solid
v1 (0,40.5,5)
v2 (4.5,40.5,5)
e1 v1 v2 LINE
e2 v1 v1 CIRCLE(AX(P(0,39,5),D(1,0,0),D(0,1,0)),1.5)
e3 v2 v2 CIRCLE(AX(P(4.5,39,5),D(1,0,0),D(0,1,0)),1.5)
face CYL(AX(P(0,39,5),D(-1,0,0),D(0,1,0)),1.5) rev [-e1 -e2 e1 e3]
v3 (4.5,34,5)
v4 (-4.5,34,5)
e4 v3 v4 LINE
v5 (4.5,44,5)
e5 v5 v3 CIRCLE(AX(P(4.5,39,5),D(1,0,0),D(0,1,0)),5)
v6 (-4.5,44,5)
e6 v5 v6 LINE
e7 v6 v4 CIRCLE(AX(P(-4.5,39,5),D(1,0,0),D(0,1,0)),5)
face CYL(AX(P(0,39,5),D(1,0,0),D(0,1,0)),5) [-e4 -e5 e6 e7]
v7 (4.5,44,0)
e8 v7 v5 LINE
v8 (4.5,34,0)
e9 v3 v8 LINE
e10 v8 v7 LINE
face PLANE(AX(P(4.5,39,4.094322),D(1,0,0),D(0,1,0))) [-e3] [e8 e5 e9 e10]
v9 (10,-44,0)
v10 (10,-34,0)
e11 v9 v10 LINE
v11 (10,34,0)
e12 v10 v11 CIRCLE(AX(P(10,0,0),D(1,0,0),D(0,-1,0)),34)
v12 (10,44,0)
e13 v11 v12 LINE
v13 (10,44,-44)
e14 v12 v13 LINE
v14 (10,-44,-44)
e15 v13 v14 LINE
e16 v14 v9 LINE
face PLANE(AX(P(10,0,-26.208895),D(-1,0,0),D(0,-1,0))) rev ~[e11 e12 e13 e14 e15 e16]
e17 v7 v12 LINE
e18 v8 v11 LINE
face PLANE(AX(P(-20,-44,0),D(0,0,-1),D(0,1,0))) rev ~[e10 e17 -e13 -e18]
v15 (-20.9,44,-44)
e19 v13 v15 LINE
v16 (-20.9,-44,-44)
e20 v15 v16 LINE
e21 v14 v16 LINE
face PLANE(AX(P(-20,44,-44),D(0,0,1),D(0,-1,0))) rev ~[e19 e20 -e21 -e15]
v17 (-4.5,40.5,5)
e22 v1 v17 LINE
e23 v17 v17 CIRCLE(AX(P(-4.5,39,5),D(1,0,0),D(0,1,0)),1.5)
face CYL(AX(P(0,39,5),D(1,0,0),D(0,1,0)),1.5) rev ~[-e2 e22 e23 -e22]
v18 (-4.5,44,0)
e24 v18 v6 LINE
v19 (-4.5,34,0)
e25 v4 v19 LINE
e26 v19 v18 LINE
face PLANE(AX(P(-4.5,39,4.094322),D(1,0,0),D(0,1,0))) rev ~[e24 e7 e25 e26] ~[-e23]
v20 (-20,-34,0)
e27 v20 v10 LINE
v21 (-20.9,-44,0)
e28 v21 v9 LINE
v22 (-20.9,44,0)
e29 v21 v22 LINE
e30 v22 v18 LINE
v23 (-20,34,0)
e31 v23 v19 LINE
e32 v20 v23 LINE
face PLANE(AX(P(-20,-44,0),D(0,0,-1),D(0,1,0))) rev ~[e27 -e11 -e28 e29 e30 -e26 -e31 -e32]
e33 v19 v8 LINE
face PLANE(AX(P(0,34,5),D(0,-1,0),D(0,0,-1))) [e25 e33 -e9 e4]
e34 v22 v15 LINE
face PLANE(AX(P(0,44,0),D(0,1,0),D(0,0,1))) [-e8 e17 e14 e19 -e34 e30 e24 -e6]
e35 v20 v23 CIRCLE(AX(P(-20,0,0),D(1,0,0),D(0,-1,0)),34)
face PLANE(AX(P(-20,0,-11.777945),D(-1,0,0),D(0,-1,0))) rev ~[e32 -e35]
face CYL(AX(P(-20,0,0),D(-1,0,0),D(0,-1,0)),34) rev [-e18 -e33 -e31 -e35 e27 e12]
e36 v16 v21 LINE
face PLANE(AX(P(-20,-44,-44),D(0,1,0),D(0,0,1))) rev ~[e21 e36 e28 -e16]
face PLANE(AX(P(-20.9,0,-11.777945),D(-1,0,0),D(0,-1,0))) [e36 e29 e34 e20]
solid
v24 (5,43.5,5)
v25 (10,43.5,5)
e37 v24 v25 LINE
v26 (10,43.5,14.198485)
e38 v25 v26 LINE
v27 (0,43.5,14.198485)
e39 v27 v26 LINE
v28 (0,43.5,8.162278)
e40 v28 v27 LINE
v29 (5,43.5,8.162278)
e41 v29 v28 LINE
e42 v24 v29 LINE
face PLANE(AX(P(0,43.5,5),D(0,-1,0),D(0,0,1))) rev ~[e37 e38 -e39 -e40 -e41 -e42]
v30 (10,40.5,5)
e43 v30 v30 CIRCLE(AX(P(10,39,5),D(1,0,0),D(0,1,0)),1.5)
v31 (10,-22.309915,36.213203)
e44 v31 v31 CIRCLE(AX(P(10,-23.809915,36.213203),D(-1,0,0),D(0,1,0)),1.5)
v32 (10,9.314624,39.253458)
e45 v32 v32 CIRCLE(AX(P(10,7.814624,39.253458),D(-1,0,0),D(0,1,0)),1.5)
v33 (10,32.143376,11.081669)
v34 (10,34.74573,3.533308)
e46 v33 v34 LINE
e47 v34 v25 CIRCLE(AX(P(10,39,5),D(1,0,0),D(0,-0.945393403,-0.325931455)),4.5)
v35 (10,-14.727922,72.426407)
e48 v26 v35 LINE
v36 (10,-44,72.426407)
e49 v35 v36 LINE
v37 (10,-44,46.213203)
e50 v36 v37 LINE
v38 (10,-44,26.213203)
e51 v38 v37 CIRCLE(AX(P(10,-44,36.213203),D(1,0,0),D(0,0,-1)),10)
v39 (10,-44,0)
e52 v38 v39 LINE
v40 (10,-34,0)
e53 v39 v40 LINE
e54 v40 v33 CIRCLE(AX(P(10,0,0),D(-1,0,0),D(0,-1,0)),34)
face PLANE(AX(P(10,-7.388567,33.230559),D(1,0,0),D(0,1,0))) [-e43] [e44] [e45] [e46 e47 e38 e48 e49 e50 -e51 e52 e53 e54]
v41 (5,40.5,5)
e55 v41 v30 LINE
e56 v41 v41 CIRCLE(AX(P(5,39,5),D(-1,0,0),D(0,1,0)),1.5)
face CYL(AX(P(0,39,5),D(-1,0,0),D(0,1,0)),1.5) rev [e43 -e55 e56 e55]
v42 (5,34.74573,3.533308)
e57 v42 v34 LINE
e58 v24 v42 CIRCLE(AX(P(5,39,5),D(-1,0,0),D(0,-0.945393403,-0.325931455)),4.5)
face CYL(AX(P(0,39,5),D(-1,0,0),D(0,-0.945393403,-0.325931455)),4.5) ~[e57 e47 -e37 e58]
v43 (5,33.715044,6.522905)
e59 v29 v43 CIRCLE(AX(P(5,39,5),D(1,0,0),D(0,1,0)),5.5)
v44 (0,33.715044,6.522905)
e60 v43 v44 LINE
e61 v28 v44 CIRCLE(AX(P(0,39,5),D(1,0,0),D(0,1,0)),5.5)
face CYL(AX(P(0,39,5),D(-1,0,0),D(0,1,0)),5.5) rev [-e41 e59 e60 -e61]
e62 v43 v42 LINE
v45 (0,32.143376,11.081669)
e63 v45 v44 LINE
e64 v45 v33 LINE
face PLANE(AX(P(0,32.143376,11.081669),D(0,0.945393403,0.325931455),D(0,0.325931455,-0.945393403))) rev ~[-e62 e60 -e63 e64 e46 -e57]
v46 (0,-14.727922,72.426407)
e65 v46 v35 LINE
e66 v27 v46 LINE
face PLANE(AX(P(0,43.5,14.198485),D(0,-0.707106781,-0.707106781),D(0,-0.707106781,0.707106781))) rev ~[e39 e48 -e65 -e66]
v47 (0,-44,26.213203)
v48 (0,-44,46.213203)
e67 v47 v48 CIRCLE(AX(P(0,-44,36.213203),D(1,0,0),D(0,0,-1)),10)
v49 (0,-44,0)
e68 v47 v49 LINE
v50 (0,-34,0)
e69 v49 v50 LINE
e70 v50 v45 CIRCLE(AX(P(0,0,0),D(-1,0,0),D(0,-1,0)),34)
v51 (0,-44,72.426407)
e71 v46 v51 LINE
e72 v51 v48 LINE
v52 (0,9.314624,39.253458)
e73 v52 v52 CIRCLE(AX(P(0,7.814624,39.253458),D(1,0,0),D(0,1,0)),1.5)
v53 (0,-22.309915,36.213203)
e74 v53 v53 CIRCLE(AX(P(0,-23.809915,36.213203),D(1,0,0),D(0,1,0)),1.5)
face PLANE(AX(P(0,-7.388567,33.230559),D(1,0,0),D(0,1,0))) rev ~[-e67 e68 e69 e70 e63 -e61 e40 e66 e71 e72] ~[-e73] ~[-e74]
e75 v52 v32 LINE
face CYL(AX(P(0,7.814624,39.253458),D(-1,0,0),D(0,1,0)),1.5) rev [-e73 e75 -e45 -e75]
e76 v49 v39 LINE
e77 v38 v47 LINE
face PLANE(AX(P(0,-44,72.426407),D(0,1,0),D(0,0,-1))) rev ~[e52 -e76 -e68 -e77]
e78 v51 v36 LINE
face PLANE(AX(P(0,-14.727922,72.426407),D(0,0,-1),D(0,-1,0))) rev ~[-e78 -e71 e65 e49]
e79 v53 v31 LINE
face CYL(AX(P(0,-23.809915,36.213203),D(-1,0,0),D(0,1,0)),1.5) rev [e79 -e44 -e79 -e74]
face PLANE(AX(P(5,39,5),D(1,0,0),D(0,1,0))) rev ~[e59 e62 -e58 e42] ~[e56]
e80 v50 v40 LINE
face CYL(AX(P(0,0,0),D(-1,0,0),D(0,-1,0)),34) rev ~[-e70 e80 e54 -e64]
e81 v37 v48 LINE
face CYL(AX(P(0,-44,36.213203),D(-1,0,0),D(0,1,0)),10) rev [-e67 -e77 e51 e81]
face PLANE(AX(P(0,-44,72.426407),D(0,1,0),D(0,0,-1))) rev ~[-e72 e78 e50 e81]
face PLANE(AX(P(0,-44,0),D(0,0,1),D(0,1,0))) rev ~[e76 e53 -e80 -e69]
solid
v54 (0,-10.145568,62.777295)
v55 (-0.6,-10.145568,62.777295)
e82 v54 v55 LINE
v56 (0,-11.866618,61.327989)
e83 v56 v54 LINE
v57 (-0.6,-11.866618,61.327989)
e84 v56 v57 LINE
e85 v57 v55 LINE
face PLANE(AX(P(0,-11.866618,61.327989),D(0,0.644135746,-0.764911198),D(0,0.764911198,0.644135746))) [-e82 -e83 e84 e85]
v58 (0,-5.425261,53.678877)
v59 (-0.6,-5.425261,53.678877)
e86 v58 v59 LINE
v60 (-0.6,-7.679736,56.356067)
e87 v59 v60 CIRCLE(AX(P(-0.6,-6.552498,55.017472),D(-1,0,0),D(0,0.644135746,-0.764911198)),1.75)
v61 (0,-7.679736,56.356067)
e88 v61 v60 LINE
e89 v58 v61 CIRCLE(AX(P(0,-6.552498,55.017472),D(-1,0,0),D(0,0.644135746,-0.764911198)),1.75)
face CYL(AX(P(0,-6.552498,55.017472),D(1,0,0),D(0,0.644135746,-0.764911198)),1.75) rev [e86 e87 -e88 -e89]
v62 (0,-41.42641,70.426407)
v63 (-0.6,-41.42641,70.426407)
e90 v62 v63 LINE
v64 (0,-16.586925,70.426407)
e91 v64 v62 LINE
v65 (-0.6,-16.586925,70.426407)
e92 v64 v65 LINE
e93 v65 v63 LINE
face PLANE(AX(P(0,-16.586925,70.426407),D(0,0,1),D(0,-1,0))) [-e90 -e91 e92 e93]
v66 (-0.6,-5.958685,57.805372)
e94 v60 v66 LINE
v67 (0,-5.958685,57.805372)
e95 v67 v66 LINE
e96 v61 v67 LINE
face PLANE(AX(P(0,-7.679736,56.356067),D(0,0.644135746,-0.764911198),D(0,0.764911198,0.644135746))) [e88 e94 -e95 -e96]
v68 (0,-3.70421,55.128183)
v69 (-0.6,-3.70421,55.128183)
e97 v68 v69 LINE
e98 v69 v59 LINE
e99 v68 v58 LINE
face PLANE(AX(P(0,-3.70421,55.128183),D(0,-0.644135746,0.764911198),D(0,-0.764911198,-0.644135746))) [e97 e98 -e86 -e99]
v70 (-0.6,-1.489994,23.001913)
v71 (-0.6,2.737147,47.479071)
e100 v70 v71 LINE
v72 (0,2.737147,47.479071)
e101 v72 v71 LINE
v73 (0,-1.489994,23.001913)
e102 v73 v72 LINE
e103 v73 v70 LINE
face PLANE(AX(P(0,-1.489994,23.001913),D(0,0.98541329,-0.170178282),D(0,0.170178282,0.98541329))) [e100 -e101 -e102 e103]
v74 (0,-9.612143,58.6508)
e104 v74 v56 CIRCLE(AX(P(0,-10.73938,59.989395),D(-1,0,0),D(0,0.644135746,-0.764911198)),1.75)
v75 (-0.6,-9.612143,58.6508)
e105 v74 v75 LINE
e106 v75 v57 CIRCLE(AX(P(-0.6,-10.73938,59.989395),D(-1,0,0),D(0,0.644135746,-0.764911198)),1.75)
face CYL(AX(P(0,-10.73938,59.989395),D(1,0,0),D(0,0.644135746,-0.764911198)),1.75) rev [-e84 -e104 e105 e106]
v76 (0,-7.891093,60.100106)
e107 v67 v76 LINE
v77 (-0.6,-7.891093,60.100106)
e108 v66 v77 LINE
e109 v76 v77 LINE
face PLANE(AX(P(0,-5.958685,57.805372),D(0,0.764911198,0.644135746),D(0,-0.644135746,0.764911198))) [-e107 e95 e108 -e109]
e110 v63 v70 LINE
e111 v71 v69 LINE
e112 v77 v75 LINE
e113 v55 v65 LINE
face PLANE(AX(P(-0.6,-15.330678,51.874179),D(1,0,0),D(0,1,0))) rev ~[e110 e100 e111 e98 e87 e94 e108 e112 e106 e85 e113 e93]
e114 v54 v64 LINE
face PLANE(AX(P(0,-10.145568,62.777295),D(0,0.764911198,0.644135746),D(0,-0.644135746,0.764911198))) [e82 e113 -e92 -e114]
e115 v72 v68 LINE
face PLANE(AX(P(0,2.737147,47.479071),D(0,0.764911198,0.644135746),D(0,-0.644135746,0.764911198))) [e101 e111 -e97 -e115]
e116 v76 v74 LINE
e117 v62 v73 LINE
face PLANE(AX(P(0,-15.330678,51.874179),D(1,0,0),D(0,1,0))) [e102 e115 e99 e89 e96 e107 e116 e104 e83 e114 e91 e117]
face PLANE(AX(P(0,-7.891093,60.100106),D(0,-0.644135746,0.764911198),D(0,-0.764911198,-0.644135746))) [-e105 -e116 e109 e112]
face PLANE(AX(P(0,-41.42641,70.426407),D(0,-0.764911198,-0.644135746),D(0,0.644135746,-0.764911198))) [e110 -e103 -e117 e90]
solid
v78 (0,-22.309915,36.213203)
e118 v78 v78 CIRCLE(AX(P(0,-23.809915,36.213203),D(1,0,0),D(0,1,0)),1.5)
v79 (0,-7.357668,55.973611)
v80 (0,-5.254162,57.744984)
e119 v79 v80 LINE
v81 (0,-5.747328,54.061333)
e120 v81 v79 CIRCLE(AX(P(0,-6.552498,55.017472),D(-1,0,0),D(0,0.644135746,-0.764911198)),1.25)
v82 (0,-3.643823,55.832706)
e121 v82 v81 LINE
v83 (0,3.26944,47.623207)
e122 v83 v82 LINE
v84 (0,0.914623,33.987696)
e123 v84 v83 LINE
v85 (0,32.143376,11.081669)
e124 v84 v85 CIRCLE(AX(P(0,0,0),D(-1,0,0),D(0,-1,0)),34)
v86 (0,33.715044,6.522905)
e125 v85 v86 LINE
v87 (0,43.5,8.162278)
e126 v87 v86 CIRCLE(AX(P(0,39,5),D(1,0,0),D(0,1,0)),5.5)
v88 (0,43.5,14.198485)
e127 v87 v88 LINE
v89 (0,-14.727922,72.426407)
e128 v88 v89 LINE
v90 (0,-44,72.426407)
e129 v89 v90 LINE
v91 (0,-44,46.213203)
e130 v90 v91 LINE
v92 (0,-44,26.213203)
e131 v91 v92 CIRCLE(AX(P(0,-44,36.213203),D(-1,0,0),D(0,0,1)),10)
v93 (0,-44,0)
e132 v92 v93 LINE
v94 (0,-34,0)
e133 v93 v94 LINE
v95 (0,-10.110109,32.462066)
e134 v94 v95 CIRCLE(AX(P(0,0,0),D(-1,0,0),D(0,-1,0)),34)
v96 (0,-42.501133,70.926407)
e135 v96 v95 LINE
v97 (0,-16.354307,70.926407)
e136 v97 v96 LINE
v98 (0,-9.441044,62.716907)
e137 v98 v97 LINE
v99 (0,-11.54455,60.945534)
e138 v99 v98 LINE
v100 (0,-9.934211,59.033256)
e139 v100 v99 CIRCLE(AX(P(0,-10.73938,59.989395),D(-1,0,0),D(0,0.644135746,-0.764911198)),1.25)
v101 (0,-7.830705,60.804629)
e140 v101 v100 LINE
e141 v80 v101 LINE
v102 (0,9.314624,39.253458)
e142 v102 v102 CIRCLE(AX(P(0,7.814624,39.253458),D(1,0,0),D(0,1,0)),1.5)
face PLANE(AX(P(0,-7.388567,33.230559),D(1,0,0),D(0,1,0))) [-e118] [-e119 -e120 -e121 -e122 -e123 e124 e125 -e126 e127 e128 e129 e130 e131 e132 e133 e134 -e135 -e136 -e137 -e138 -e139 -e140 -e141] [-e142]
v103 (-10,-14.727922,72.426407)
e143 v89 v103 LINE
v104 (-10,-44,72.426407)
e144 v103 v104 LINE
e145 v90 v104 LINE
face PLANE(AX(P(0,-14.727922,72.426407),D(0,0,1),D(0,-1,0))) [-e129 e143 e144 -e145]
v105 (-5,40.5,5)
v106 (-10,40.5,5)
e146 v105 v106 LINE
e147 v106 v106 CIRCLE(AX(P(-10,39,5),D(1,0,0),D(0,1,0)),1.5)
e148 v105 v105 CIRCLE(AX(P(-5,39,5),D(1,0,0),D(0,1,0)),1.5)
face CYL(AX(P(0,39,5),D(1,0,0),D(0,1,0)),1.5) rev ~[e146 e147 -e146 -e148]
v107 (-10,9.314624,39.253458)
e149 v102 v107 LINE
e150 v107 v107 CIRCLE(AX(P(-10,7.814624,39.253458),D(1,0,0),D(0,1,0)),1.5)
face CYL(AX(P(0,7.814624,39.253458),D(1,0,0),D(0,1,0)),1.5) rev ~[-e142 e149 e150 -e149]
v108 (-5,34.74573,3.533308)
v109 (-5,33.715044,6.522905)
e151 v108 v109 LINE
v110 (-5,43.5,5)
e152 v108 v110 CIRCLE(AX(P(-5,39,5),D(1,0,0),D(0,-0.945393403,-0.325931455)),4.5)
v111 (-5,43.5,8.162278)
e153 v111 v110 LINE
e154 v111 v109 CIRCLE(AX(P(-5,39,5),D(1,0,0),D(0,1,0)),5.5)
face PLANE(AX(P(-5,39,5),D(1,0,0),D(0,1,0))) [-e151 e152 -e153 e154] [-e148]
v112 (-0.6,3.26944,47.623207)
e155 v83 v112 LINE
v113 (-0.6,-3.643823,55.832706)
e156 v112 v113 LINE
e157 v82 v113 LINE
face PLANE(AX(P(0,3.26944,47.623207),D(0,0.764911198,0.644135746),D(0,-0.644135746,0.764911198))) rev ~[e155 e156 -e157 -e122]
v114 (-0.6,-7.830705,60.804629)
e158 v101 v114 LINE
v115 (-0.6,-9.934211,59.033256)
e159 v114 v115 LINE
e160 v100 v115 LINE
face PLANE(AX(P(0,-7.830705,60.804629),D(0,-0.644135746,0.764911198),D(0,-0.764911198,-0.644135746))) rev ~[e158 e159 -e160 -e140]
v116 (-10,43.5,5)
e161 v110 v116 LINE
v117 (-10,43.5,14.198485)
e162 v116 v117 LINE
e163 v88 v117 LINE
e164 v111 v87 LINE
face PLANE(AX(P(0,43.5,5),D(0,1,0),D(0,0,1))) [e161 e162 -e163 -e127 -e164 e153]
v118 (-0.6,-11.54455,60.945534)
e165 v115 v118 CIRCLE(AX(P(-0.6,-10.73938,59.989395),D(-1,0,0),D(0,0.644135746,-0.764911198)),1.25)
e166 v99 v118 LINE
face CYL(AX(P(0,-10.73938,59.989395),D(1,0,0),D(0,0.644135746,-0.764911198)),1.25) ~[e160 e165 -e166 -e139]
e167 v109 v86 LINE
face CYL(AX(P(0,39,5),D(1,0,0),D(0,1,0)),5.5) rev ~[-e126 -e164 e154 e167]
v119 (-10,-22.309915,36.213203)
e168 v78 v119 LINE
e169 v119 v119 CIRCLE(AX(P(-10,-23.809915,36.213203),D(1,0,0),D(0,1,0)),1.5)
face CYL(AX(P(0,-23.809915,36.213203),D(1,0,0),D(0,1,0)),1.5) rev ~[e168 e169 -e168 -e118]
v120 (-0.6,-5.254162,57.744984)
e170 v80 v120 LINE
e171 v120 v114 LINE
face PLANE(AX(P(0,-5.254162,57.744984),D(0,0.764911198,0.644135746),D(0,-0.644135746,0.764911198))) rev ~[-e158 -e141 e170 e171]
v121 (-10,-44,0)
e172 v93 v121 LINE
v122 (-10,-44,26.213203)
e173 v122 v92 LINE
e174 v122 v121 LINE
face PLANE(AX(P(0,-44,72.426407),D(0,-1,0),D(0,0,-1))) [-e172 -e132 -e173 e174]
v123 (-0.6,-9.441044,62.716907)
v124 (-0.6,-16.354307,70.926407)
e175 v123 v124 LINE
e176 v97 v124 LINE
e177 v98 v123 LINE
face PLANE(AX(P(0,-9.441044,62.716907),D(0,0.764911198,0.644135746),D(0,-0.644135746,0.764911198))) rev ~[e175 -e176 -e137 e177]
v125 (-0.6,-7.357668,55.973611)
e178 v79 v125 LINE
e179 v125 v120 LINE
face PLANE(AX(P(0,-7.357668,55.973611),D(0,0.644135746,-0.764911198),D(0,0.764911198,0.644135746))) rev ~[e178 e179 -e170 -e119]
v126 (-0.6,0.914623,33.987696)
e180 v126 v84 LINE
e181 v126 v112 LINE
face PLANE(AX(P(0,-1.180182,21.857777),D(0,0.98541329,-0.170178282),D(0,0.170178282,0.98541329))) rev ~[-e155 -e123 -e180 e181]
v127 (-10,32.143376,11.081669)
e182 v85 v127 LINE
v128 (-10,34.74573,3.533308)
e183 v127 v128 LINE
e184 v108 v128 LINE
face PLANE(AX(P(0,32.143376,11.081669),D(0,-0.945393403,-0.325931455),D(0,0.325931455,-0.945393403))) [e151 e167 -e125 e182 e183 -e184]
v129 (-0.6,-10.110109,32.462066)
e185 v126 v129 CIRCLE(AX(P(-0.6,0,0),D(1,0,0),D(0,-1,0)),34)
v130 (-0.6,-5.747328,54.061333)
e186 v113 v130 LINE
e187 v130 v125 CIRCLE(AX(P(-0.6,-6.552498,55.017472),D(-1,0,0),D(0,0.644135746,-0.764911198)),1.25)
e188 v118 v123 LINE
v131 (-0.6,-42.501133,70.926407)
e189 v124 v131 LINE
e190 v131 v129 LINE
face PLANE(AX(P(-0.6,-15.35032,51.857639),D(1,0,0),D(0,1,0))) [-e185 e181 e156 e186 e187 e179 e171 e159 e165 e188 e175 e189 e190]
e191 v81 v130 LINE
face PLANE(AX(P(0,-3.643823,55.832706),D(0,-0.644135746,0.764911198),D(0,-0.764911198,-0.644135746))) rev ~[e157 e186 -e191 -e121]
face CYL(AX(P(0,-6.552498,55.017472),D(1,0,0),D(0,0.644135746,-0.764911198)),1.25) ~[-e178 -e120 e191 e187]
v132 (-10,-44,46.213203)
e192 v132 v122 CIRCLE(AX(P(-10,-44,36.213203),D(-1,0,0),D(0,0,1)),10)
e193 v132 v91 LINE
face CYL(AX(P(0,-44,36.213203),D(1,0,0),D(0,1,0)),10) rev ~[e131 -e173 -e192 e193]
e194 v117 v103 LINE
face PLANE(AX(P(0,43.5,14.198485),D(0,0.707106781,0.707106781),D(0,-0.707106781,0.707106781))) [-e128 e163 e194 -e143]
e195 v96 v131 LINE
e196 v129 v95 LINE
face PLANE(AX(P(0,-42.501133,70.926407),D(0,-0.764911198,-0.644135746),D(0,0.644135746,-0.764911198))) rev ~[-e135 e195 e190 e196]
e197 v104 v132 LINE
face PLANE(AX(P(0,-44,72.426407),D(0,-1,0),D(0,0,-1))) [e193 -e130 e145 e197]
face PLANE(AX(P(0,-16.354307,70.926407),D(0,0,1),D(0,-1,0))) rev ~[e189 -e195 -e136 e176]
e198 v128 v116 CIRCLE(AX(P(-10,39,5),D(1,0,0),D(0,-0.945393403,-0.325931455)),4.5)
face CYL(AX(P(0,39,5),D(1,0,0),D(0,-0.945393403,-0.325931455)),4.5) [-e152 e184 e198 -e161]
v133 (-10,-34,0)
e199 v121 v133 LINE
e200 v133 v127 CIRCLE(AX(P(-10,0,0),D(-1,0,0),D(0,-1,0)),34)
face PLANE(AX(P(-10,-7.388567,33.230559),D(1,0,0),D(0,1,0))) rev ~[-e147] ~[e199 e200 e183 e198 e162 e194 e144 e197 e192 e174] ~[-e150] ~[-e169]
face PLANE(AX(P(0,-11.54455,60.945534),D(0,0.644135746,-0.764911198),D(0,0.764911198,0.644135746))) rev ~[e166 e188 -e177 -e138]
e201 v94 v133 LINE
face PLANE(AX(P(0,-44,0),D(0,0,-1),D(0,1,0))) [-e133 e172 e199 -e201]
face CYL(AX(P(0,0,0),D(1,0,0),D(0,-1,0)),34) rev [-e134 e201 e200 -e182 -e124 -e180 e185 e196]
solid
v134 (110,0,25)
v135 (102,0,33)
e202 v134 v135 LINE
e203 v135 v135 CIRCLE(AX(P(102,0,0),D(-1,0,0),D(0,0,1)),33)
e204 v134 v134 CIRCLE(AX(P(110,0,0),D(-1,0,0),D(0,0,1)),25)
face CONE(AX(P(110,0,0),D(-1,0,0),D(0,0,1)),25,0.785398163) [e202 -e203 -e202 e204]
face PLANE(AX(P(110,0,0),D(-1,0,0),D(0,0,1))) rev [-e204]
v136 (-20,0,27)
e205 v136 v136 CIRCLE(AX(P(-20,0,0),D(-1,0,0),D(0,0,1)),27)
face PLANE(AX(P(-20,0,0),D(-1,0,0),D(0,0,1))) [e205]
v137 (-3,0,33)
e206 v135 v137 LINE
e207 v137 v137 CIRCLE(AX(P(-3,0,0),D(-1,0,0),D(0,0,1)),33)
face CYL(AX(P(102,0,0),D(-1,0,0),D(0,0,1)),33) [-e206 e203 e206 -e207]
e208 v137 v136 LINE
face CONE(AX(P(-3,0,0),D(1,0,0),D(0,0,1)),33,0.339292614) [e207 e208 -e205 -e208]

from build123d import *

# Parameters (mm, degrees)
F3_DEPTH       = 0.6
F6_DEPTH       = 30
F7_DEPTH       = 0.9
F8_R           = 1.5
F9_DEPTH       = 4.5
F9_DEPTH_BACK  = 4.5
F10_R          = 1.5
F11_DEPTH      = 10
F13_DEPTH      = 0.6
F14_DEPTH      = 10
F12_R          = 5.5
F15_DEPTH      = 5
F15_DEPTH_BACK = 5
F12_R_2        = 10
F12_R_3        = 1.5
F16_DEPTH      = 20.901
F16_DEPTH_BACK = 110.001


with BuildPart() as f1:
    # F0 (on Front) → F1 (revolve)
    with BuildSketch(Plane.XZ):
        Polygon((-20, 27), (-20, 0), (110, 0), (110, 25), (102, 33), (-3, 33), align=None)
    revolve(axis=Axis((45, 0, 0), (-1, 0, 0)))


with BuildPart() as f3:
    # F2 (on Right) → F3 (new body)
    with BuildSketch(Plane.YZ):
        with BuildLine():
            Line((-1.4899937615, 23.0019125879), (2.7371470702, 47.4790709277))
            Line((2.7371470702, 47.4790709277), (-3.7042103876, 55.1281829089))
            Line((-3.7042103876, 55.1281829089), (-5.4252605834, 53.6788774808))
            ThreePointArc((-5.4252605834, 53.6788774808), (-7.8910927352, 53.8902345224), (-7.6797356936, 56.3560666743))
            Line((-7.6797356936, 56.3560666743), (-5.9586854978, 57.8053721023))
            Line((-5.9586854978, 57.8053721023), (-7.8910927352, 60.1001056966))
            Line((-7.8910927352, 60.1001056966), (-9.6121429309, 58.6508002686))
            ThreePointArc((-9.6121429309, 58.6508002686), (-12.0779750828, 58.8621573102), (-11.8666180412, 61.327989462))
            Line((-11.8666180412, 61.327989462), (-10.1455678454, 62.77729489))
            Line((-10.1455678454, 62.77729489), (-16.5869253033, 70.4264068712))
            Line((-16.5869253033, 70.4264068712), (-41.42641, 70.4264068712))
            Line((-41.42641, 70.4264068712), (-1.4899937615, 23.0019125879))
        make_face()
    extrude(amount=-F3_DEPTH)


with BuildPart() as f6:
    # F5 (on offset) → F6 (new body)
    with BuildSketch(Plane(origin=(-20, 0, 0), x_dir=(0, -1, 0), z_dir=(-1, 0, 0))):
        with BuildLine():
            ThreePointArc((34, 0), (0, -34), (-34, 0))
            Line((-34, 0), (-44, 0))
            Line((-44, 0), (-44, -44))
            Line((-44, -44), (44, -44))
            Line((44, -44), (44, 0))
            Line((44, 0), (34, 0))
        make_face()
    extrude(amount=-F6_DEPTH)

    # F5 (on offset) → F7 (join)
    with BuildSketch(Plane(origin=(-20, 0, 0), x_dir=(0, -1, 0), z_dir=(-1, 0, 0))):
        with BuildLine():
            Line((34, 0), (-34, 0))
            ThreePointArc((-34, 0), (0, -34), (34, 0))
        make_face()
        with BuildLine():
            ThreePointArc((34, 0), (0, -34), (-34, 0))
            Line((-34, 0), (-44, 0))
            Line((-44, 0), (-44, -44))
            Line((-44, -44), (44, -44))
            Line((44, -44), (44, 0))
            Line((44, 0), (34, 0))
        make_face()
    extrude(amount=F7_DEPTH)

    # F8 (on Right) → F9 (join, two sides)
    with BuildSketch(Plane.YZ) as f9_sk:
        with BuildLine():
            Line((34, 0), (44, 0))
            Line((44, 0), (44, 5))
            ThreePointArc((44, 5), (39, 10), (34, 5))
            Line((34, 5), (34, 0))
        make_face()
        with Locations((39, 5)):
            Circle(F8_R, mode=Mode.SUBTRACT)
    extrude(amount=F9_DEPTH)
    extrude(f9_sk.sketch, amount=-F9_DEPTH_BACK)


with BuildPart() as f11:
    # F10 (on Right) → F11 (new body)
    with BuildSketch(Plane.YZ):
        with BuildLine():
            Line((-44, 72.4264068712), (-44, 0))
            Line((-44, 0), (-34, 0))
            ThreePointArc((-34, 0), (-5.6180613128, 33.5326316755), (32.1433757109, 11.0816694549))
            Line((32.1433757109, 11.0816694549), (34.7457296853, 3.5333084545))
            ThreePointArc((34.7457296853, 3.5333084545), (38.2564330615, 9.4381424276), (43.5, 5))
            Line((43.5, 5), (43.5, 14.1984848098))
            Line((43.5, 14.1984848098), (-14.7279220614, 72.4264068712))
            Line((-14.7279220614, 72.4264068712), (-44, 72.4264068712))
        make_face()
        with BuildLine():
            ThreePointArc((43.5, 5), (38.2564330615, 9.4381424276), (34.7457296853, 3.5333084545))
            ThreePointArc((34.7457296853, 3.5333084545), (39.7435669385, 0.5618575724), (43.5, 5))
        make_face()
        with Locations((39, 5)):
            Circle(F10_R, mode=Mode.SUBTRACT)
    extrude(amount=-F11_DEPTH)

    # F12 (on Right) → F13 (cut)
    with BuildSketch(Plane.YZ):
        with BuildLine():
            Line((3.26944025, 47.6232066735), (-3.6438226614, 55.8327063808))
            Line((-3.6438226614, 55.8327063808), (-5.7473284563, 54.0613330799))
            ThreePointArc((-5.7473284563, 54.0613330799), (-7.5086371361, 54.2123023953), (-7.3576678207, 55.9736110752))
            Line((-7.3576678207, 55.9736110752), (-5.2541620259, 57.7449843761))
            Line((-5.2541620259, 57.7449843761), (-7.830705009, 60.8046291686))
            Line((-7.830705009, 60.8046291686), (-9.9342108038, 59.0332558677))
            ThreePointArc((-9.9342108038, 59.0332558677), (-11.6955194837, 59.1842251831), (-11.5445501683, 60.945533863))
            Line((-11.5445501683, 60.945533863), (-9.4410443735, 62.7169071639))
            Line((-9.4410443735, 62.7169071639), (-16.3543072849, 70.9264068712))
            Line((-16.3543072849, 70.9264068712), (-42.5011332815, 70.9264068712))
            Line((-42.5011332815, 70.9264068712), (-1.1801816781, 21.8577768422))
            Line((-1.1801816781, 21.8577768422), (3.26944025, 47.6232066735))
        make_face()
    extrude(amount=-F13_DEPTH, mode=Mode.SUBTRACT)


with BuildPart() as f14:
    # F10 (on Right) → F14 (new body)
    with BuildSketch(Plane.YZ):
        with BuildLine():
            Line((-44, 72.4264068712), (-44, 0))
            Line((-44, 0), (-34, 0))
            ThreePointArc((-34, 0), (-5.6180613128, 33.5326316755), (32.1433757109, 11.0816694549))
            Line((32.1433757109, 11.0816694549), (34.7457296853, 3.5333084545))
            ThreePointArc((34.7457296853, 3.5333084545), (38.2564330615, 9.4381424276), (43.5, 5))
            Line((43.5, 5), (43.5, 14.1984848098))
            Line((43.5, 14.1984848098), (-14.7279220614, 72.4264068712))
            Line((-14.7279220614, 72.4264068712), (-44, 72.4264068712))
        make_face()
        with BuildLine():
            ThreePointArc((43.5, 5), (38.2564330615, 9.4381424276), (34.7457296853, 3.5333084545))
            ThreePointArc((34.7457296853, 3.5333084545), (39.7435669385, 0.5618575724), (43.5, 5))
        make_face()
        with Locations((39, 5)):
            Circle(F10_R, mode=Mode.SUBTRACT)
    extrude(amount=F14_DEPTH)


with BuildPart() as f15_tool:
    # F12 (on Right) → F15 (new body, two sides)
    with BuildSketch(Plane.YZ) as f15_sk:
        with Locations((39, 5)):
            Circle(F12_R)
    extrude(amount=-F15_DEPTH)
    extrude(f15_sk.sketch, amount=F15_DEPTH_BACK)


with BuildPart() as f11_1:
    add(f11.part)

    # F15: cut by f15_tool
    add(f15_tool.part, mode=Mode.SUBTRACT)


with BuildPart() as f14_1:
    add(f14.part)

    # F15: cut by f15_tool
    add(f15_tool.part, mode=Mode.SUBTRACT)


with BuildPart() as f16_tool:
    # F12 (on Right) → F16 (new body, two sides)
    with BuildSketch(Plane.YZ) as f16_sk:
        with Locations((-44, 36.2132034356)):
            Circle(F12_R_2)
        with Locations((-23.8099154085, 36.2132034356)):
            Circle(F12_R_3)
        with Locations((7.8146243468, 39.2534583807)):
            Circle(F12_R_3)
    extrude(amount=-F16_DEPTH)
    extrude(f16_sk.sketch, amount=F16_DEPTH_BACK)


with BuildPart() as f11_2:
    add(f11_1.part)

    # F16: cut by f16_tool
    add(f16_tool.part, mode=Mode.SUBTRACT)


with BuildPart() as f14_2:
    add(f14_1.part)

    # F16: cut by f16_tool
    add(f16_tool.part, mode=Mode.SUBTRACT)


solid = Compound([f1.part, f3.part, f6.part, f11_2.part, f14_2.part])
